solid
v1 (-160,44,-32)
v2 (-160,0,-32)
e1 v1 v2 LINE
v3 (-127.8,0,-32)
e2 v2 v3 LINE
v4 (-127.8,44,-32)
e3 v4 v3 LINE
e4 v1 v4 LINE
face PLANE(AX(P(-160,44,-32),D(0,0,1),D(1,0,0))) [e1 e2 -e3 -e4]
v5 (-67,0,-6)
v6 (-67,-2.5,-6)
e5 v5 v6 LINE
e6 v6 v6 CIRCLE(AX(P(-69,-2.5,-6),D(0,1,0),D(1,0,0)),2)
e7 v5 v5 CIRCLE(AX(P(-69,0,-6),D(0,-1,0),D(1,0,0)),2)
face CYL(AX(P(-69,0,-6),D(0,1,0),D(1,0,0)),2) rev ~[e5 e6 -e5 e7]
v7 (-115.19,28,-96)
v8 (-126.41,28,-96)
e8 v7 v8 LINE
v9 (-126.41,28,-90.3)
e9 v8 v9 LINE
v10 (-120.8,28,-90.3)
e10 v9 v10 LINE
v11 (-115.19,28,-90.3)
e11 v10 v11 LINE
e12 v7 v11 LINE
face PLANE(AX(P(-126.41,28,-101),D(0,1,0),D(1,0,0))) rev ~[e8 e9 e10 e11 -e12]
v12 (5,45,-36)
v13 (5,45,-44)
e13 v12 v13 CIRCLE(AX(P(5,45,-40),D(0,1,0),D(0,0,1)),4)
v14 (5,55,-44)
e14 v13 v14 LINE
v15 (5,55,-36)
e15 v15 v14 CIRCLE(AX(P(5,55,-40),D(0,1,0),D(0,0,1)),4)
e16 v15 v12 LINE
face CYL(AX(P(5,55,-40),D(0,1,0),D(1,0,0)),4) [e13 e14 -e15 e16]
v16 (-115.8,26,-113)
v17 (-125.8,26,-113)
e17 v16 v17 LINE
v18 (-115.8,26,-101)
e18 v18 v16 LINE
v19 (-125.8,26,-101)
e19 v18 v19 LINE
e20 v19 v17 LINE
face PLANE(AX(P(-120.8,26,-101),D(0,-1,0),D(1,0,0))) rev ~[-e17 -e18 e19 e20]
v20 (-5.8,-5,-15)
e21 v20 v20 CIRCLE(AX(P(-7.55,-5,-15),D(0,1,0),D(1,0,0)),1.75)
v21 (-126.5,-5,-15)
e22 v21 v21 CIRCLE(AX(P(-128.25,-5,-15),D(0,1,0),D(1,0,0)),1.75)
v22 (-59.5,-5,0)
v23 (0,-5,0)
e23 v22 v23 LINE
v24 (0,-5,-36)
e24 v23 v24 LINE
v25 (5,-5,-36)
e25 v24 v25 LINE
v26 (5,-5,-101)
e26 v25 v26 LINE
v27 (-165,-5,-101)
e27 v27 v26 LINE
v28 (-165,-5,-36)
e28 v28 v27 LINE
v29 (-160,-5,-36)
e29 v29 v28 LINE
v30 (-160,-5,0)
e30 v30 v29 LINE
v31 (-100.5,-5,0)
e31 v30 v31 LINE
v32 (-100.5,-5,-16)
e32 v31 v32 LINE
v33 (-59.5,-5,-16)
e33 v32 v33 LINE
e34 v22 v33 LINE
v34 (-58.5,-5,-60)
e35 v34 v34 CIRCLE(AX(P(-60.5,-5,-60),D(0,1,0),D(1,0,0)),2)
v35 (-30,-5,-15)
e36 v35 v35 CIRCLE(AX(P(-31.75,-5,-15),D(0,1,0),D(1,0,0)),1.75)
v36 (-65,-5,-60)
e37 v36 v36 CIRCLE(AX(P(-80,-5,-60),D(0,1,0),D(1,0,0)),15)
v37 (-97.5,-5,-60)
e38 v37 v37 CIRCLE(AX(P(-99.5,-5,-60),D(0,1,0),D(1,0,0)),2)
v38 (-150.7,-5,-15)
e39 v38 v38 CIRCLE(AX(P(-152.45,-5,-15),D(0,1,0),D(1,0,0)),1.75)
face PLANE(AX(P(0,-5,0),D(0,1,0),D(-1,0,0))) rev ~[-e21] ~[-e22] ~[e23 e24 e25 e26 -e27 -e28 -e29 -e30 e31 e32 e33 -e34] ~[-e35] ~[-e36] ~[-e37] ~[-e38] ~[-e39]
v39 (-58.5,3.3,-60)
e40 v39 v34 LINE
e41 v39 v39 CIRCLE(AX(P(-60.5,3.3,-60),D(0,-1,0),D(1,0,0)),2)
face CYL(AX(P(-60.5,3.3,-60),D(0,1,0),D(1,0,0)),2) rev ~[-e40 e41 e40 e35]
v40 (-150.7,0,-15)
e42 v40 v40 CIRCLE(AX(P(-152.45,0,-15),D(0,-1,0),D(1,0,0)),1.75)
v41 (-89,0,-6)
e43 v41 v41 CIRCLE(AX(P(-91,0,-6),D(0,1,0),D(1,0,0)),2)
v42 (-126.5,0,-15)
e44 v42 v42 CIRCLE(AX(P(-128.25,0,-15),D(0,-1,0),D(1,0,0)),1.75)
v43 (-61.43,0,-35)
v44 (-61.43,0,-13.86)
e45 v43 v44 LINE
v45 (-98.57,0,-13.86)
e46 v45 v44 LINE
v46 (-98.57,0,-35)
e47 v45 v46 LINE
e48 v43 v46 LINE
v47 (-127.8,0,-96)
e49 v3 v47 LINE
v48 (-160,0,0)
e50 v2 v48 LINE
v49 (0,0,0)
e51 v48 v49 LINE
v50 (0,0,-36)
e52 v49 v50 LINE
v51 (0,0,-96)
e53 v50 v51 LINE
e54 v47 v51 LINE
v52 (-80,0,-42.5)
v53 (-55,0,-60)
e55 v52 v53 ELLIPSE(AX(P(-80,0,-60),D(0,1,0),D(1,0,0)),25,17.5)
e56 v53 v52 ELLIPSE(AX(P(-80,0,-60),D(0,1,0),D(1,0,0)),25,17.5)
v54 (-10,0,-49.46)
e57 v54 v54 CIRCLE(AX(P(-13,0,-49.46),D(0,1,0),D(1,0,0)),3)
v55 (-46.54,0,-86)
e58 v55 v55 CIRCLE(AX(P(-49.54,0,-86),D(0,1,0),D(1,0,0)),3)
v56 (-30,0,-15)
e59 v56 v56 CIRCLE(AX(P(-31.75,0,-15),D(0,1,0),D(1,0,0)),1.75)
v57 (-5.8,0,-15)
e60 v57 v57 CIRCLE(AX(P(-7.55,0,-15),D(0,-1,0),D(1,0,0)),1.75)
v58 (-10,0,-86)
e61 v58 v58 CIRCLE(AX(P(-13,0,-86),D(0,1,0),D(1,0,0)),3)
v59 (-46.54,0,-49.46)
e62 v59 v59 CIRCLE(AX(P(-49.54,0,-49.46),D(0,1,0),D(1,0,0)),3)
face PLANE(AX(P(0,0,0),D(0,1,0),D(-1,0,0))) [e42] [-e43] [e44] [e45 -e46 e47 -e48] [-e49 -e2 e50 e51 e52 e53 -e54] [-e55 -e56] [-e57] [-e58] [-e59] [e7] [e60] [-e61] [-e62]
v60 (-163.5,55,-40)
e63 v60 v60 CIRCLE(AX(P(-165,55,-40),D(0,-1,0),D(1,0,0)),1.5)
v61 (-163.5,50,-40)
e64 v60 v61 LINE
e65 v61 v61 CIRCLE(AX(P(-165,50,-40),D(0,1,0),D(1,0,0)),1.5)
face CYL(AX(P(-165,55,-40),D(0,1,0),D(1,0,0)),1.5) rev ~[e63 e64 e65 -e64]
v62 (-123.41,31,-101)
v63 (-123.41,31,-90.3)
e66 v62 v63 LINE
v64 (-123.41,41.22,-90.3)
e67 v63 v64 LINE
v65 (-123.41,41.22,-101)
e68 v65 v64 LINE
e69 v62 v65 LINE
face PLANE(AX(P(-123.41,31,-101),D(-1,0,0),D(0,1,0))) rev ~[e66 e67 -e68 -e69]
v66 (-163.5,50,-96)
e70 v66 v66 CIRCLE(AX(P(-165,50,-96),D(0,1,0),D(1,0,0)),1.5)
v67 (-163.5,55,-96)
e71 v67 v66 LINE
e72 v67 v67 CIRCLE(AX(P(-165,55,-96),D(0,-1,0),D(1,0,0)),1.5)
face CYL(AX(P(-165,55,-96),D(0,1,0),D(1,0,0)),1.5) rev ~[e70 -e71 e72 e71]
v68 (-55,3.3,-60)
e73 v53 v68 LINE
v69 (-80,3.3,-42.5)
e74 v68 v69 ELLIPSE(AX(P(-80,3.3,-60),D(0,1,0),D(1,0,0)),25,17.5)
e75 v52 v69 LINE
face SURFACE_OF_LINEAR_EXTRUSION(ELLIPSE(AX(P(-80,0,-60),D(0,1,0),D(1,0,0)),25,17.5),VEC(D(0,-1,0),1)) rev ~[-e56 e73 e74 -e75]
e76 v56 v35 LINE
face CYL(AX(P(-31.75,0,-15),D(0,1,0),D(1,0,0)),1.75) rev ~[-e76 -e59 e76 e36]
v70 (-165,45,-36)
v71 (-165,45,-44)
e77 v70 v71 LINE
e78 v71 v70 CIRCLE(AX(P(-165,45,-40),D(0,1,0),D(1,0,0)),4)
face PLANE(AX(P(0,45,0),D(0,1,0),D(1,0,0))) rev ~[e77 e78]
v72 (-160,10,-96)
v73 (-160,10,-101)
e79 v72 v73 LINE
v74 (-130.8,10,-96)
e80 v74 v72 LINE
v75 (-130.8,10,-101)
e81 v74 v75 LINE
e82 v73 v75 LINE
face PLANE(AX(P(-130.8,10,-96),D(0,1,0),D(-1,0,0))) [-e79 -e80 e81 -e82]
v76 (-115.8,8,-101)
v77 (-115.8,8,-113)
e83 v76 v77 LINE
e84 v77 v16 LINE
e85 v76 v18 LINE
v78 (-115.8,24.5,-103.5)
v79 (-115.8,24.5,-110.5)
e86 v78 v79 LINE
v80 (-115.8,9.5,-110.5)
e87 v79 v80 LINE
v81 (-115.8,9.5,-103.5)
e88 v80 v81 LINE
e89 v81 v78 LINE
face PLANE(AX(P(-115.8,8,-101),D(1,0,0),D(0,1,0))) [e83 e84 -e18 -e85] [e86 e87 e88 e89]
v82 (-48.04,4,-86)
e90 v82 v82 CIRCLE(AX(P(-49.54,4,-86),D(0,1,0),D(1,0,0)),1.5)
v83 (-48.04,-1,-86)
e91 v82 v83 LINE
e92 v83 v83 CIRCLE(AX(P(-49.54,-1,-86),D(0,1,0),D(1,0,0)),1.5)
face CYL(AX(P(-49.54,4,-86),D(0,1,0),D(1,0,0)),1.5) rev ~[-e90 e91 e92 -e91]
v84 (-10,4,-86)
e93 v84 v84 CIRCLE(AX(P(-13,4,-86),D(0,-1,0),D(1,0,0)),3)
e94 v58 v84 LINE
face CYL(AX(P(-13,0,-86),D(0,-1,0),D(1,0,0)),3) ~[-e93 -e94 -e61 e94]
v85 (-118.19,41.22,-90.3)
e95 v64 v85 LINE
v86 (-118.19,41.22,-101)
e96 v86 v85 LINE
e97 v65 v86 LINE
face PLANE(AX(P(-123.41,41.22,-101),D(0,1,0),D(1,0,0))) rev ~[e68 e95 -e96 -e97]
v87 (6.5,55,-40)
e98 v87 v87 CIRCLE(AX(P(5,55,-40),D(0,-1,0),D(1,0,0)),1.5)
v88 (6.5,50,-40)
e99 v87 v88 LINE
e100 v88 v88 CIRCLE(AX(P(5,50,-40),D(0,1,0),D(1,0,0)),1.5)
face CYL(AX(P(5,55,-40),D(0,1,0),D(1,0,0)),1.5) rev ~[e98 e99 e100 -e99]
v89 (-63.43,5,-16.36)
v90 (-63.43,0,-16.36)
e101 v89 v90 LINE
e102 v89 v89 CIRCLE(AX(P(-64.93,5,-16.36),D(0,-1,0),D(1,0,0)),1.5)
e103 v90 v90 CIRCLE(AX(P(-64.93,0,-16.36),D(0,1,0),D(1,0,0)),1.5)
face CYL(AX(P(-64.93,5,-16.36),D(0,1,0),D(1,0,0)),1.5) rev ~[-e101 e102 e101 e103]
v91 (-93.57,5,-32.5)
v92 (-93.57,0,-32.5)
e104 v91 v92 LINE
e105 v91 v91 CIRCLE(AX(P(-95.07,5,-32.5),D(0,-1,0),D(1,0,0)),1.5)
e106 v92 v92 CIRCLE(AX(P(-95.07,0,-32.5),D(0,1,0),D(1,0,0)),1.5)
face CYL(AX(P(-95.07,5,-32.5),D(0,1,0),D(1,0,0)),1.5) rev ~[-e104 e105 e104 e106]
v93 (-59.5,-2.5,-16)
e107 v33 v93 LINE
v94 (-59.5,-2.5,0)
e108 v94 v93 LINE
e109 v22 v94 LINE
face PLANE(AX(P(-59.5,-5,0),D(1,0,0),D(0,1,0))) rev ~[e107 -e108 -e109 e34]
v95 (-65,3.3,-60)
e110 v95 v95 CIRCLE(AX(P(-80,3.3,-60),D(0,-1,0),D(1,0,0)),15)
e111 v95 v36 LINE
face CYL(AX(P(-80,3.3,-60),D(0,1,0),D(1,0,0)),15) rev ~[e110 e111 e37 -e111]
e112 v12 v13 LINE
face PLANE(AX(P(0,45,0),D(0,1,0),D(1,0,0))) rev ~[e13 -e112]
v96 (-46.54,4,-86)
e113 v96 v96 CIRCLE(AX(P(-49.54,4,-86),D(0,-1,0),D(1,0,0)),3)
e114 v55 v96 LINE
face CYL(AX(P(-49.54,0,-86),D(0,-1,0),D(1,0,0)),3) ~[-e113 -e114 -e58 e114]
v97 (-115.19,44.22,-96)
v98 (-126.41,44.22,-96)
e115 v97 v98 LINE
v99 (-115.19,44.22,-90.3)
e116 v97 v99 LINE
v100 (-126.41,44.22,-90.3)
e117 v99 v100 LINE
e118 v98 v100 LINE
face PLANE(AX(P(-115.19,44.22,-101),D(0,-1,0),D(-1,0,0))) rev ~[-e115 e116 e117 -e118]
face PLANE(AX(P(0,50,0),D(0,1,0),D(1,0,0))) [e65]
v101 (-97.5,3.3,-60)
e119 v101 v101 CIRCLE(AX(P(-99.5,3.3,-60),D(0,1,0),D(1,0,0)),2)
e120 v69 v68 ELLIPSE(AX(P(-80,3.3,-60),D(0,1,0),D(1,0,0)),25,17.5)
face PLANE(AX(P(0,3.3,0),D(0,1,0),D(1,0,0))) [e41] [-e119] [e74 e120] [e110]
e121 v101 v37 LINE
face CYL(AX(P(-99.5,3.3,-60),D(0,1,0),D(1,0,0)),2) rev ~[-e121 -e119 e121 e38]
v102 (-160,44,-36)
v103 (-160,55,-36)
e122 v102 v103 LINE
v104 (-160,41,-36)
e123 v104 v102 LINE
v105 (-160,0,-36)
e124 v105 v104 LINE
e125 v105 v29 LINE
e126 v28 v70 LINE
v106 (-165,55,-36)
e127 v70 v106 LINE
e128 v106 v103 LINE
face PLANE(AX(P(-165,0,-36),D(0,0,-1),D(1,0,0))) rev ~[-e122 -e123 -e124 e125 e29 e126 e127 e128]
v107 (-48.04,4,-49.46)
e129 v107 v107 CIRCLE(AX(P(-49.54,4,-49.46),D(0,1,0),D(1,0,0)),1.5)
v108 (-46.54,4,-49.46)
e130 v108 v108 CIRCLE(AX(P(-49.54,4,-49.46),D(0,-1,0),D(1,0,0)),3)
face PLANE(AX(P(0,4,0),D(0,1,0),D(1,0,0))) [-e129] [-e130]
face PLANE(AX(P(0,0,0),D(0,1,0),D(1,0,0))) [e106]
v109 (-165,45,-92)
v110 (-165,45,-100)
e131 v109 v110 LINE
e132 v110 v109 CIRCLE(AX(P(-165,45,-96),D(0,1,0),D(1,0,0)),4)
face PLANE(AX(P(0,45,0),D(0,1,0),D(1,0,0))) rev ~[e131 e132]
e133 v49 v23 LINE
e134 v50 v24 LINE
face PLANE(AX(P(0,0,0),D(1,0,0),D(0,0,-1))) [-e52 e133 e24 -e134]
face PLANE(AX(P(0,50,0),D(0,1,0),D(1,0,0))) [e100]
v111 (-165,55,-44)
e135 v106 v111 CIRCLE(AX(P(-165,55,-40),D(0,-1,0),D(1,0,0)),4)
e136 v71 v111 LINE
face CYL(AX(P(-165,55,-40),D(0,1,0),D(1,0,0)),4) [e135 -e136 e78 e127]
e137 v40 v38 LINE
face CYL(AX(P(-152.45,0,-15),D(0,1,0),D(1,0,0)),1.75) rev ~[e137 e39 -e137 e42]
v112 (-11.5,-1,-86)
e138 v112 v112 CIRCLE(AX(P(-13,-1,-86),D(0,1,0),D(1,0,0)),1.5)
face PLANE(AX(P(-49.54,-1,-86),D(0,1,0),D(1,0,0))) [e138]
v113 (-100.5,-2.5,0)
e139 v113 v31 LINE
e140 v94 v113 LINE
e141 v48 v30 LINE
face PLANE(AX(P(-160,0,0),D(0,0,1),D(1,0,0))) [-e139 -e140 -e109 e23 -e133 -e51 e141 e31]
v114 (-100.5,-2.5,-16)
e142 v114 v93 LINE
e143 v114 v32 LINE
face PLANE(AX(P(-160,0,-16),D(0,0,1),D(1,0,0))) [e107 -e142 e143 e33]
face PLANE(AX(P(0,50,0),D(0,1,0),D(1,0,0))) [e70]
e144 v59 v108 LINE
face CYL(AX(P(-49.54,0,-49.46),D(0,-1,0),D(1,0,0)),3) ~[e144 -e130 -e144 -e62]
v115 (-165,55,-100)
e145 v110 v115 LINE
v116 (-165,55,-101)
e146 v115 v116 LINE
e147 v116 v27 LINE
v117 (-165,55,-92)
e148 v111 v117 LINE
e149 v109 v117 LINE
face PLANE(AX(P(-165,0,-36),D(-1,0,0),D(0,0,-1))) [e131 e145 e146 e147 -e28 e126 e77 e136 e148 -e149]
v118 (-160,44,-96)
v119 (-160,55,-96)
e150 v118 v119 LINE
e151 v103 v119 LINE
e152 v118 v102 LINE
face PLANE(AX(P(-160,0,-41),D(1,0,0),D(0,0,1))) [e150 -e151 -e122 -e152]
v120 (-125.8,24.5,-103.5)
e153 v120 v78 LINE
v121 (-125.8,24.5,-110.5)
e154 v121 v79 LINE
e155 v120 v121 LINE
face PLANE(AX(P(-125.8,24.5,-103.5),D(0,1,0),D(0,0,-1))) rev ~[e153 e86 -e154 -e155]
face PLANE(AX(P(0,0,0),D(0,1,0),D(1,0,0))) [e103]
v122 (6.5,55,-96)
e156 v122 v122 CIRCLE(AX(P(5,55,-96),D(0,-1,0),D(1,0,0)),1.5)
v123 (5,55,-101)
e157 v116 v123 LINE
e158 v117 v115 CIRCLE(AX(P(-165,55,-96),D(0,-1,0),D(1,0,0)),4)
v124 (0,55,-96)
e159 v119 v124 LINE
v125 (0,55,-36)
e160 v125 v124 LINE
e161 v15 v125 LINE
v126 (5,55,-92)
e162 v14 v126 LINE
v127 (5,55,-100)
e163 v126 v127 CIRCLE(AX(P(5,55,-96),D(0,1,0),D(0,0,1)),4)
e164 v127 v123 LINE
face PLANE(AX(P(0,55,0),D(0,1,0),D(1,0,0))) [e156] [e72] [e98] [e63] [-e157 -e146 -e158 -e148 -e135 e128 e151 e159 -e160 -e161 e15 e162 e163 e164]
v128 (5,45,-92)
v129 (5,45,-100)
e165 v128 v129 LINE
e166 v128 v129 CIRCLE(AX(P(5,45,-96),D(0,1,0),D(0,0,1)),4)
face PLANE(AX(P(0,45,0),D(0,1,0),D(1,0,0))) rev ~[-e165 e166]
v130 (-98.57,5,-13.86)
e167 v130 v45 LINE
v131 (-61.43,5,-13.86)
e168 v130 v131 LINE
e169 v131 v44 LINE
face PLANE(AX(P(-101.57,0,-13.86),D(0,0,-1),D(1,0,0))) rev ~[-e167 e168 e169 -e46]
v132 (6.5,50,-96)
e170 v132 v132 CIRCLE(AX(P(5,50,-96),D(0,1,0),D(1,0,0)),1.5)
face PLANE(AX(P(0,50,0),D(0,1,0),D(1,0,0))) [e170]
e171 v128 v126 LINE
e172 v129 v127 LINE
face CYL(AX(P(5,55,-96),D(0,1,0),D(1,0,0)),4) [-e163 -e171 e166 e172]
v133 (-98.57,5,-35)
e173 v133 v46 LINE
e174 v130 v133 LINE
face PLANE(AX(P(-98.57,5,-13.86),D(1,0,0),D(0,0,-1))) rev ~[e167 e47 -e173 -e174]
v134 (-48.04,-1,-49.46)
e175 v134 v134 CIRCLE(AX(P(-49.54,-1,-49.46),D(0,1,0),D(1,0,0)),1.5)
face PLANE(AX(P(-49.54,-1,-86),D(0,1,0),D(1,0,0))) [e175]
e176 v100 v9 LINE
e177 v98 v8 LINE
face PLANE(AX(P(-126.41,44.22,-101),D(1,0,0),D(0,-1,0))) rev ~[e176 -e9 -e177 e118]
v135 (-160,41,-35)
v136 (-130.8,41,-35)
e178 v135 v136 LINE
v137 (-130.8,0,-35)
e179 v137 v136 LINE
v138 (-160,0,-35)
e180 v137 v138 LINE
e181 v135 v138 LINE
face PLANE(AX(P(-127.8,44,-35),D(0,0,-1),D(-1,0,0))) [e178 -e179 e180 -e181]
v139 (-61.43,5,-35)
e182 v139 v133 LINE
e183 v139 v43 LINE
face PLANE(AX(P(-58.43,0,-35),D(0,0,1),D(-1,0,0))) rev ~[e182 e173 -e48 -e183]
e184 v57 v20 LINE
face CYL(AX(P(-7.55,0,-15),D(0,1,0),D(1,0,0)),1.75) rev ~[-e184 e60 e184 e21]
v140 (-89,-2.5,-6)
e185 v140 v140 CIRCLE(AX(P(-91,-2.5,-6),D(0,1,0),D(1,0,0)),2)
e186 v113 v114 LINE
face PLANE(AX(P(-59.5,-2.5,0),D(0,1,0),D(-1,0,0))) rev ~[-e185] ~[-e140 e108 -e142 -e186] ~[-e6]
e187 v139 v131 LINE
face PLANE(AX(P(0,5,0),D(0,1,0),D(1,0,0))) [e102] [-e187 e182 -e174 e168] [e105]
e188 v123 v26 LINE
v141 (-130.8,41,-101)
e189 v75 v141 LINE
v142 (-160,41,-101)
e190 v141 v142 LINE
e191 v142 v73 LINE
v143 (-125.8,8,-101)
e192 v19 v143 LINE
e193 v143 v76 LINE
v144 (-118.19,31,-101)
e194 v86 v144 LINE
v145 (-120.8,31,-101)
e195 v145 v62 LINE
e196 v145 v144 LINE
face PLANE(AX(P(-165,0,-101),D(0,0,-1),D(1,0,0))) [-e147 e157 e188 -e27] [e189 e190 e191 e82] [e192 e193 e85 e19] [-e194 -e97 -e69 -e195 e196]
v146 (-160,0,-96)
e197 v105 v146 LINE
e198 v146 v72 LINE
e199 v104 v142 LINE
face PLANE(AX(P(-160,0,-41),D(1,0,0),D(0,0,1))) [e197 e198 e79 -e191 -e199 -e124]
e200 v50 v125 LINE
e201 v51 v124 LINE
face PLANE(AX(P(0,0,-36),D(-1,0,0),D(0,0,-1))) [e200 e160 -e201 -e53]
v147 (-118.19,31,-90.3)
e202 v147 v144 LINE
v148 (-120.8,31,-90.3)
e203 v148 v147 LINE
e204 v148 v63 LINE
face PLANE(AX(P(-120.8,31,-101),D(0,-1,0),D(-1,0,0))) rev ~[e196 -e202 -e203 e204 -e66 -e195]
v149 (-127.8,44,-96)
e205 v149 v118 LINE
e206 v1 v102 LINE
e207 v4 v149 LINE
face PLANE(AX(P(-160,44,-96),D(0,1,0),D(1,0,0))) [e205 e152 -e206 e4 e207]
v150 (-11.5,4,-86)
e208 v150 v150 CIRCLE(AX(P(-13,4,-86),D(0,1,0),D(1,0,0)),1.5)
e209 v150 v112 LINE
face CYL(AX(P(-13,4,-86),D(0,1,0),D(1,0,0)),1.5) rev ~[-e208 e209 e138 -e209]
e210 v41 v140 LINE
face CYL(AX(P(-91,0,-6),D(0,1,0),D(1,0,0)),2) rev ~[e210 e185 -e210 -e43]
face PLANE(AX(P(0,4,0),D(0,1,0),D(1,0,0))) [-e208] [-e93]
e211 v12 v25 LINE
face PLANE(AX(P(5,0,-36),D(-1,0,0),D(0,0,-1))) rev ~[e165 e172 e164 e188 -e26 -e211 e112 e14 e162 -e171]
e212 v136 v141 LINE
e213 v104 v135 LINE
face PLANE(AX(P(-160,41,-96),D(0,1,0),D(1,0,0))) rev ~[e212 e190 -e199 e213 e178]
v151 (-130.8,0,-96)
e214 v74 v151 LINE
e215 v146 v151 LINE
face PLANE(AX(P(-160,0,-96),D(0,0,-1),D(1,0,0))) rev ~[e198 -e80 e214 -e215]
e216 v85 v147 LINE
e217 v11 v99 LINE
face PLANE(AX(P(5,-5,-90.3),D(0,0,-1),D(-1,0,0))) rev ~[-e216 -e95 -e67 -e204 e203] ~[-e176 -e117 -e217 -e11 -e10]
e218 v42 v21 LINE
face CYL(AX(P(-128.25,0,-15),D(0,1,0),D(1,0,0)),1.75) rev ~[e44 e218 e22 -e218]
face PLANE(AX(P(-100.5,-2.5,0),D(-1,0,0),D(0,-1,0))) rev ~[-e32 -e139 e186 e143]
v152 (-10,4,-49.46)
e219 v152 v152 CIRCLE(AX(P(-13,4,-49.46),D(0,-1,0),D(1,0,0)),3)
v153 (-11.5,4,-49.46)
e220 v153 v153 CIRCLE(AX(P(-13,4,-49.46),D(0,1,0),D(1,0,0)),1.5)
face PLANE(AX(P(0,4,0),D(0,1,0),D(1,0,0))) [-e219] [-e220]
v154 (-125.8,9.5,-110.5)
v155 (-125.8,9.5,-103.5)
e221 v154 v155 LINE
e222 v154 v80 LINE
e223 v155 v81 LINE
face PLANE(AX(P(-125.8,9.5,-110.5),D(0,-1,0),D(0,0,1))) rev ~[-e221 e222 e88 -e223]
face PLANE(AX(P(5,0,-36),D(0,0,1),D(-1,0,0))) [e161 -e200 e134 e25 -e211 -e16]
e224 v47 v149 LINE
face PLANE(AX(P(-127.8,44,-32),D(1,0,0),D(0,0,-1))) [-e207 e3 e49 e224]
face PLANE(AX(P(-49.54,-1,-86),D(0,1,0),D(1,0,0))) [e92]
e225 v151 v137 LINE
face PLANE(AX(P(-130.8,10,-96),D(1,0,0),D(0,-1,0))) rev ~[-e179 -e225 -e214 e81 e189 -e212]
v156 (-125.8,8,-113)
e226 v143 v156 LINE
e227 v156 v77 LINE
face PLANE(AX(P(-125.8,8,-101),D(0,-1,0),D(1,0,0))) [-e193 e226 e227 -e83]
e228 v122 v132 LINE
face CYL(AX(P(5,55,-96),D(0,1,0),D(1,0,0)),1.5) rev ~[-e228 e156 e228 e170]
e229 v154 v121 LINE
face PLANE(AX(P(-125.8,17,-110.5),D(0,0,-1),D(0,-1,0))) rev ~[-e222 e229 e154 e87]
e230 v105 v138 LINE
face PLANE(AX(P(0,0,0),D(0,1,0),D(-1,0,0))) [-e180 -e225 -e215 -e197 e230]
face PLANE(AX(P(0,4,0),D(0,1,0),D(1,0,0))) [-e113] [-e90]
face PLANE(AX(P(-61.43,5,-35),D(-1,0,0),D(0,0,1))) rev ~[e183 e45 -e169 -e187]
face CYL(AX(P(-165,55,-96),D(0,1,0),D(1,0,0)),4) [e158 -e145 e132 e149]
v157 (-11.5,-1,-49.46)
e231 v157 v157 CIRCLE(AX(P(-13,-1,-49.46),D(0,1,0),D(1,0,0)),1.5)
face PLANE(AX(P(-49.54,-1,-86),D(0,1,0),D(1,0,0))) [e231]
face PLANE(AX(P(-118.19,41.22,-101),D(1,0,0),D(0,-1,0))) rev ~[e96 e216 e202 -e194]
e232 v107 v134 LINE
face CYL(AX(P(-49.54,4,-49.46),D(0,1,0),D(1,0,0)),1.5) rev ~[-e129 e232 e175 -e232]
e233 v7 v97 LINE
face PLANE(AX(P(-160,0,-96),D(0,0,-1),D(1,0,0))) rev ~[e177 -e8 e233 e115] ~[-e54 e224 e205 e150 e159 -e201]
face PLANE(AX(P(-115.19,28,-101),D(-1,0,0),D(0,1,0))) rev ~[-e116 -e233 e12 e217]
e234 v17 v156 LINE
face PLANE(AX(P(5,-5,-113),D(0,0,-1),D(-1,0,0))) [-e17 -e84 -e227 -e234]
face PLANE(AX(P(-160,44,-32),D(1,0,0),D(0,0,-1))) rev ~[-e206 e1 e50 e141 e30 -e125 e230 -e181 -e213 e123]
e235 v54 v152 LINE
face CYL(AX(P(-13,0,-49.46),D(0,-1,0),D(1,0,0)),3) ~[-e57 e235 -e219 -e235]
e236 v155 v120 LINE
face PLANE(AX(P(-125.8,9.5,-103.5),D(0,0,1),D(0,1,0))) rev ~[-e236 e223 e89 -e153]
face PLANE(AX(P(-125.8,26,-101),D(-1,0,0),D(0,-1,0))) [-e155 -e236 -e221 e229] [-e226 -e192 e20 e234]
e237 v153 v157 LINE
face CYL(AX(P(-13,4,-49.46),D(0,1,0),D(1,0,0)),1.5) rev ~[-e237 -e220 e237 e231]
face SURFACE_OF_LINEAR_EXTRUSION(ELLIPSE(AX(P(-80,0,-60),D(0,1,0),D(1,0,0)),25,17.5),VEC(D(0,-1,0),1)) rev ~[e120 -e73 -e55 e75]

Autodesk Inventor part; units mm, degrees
ref_plane "YZ Plane" through (0, 0, 0) normal (1, 0, 0) x (0, 1, 0)
ref_plane "XZ Plane" through (0, 0, 0) normal (0, 1, 0) x (-1, 0, 0)
ref_plane "XY Plane" through (0, 0, 0) normal (0, 0, 1) x (1, 0, 0)
sketch "Boceto1" plane through (0, 0, 0) normal (0, 1, 0) x (-1, 0, 0)
  line L0 (160, -36) -> (165, -36)
  line L1 (165, -36) -> (165, -101)
  line L2 (165, -101) -> (-5, -101)
  line L3 (160, 0) -> (0, 0)
  line L4 (0, 0) -> (0, -36)
  line L5 (0, -36) -> (-5, -36)
  line L6 (-5, -36) -> (-5, -101)
  line L7 (160, 0) -> (160, -36)
  dimension "d250" = 0
  dimension "d4" = 5
  dimension "d5" = 65
  dimension "d87" = 36
  dimension "d88" = 5
  dimension "d89" = 65
  dimension "d132" = 160
  dimension "d301" = 36
extrude "Extrusión1" add sketch "Boceto1" against normal blind 5
sketch "Boceto3" plane through (-160, 0, 0) normal (0, 0, 1) x (1, 0, 0)
  line L0 (0, 0) -> (160, 0) projected
  line L1 (160, -5) -> (0, -5) projected
  line L2 (80, -2.5) -> (80, -5)
  line L3 (160, -5) -> (80, -5)
  line L4 (80, -5) -> (100.5, -5)
  line L5 (100.5, -5) -> (100.5, -2.5)
  line L6 (100.5, -2.5) -> (59.5, -2.5)
  line L7 (59.5, -2.5) -> (59.5, -5)
  line L8 (59.5, -5) -> (80, -5)
  point P0 (100, -5)
  point P1 (60, -5)
  point P2 (165, -5)
  dimension "d140" = 80
  dimension "d410" = 20.5
  dimension "d411" = 2.5
  dimension "d412" = 41
  dimension "d413" = 2.5
extrude "Extrusión2" cut sketch "Boceto3" against normal blind 16
sketch "Boceto4" plane through (0, 0, 0) normal (0, 1, 0) x (1, 0, 0)
  circle A0 centre (-7.55, 15) radius 1.75
  circle A1 centre (-31.75, 15) radius 1.75
  circle A2 centre (-152.45, 15) radius 1.75
  circle A3 centre (-128.25, 15) radius 1.75
  line L0 (-140, 0) -> (-140, 36) projected
  line L1 (0, 0) -> (0, 15)
  line L2 (0, 36) -> (0, 0) projected
  line L3 (0, 15) -> (-7.55, 15)
  line L4 (-160, 0) -> (-160, 15)
  line L5 (-160, 0) -> (-160, 36) projected
  line L6 (-160, 15) -> (-152.45, 15)
  line L7 (-152.45, 15) -> (-128.25, 15)
  line L8 (-7.55, 15) -> (-31.75, 15)
  dimension "d16" = 3.5
  dimension "d18" = 3.5
  dimension "d21" = 3.5
  dimension "d23" = 3.5
  dimension "d138" = 15
  dimension "d141" = 7.55
  dimension "d142" = 15
  dimension "d143" = 7.55
extrude "Extrusión3" cut sketch "Boceto4" against normal blind 5
sketch "Boceto5" plane through (0, 0, 0) normal (0, 1, 0) x (1, 0, 0)
  line L0 (-165, 36) -> (-165, 101)
  line L1 (-165, 101) -> (5, 101)
  line L2 (-165, 36) -> (-160, 36)
  line L3 (-160, 41) -> (-160, 41)
  line L4 (-160, 41) -> (-160, 96)
  line L5 (-160, 96) -> (0.7104, 96)
  line L6 (-160, 41) -> (-160, 36)
  line L7 (-9.2896, 35) -> (-9.2896, 39.9954)
  line L8 (5, 36) -> (5, 101) projected
  line L9 (5, 101) -> (5, 36)
  line L10 (5, 36) -> (0, 36)
  line L11 (0, 36) -> (0, 96)
  point P0 (0, 0)
  point P1 (25, 35)
  dimension "d28" = 5
extrude "Extrusión4" add sketch "Boceto5" along normal blind 55
sketch "Boceto10" plane through (0, 0, 0) normal (0, 1, 0) x (1, 0, 0)
  line L0 (0, 0) -> (-80, 0)
  line L1 (0, 0) -> (-160, 0) projected
  line L2 (-80, 0) -> (-80, 60)
  line L3 (-80, 60) -> (-80, 42.5)
  line L4 (-80, 60) -> (-55, 60)
  ellipse E0 centre (-80, 60) end of major axis (-80, 42.5) minor radius 25
  point P0 (-60, 0)
  dimension "d74" = 80
  dimension "d75" = 60
  dimension "d76" = 17.5
  dimension "d77" = 25
extrude "Extrusión9" add sketch "Boceto10" along normal blind 3.3
sketch "Boceto11" plane through (0, 3.3, 0) normal (0, 1, 0) x (1, 0, 0)
  ellipse E0 centre (-80, 60) end of major axis (-55, 60) minor radius 17.5 projected
  line L0 (-80, 60) -> (-60.5, 60)
  line L1 (-80, 60) -> (-99.5, 60)
  circle A0 centre (-80, 60) radius 15
  circle A1 centre (-99.5, 60) radius 2
  circle A2 centre (-60.5, 60) radius 2
  line L2 (0, 36) -> (0, 0) projected
  line L3 (-160, 0) -> (0, 0) projected
  dimension "d80" = 19.5
  dimension "d81" = 19.5
  dimension "d82" = 30
  dimension "d83" = 4
  dimension "d84" = 4
extrude "Extrusión10" cut sketch "Boceto11" against normal blind 15 contours L1 A0 L0 | L0 A0 L1 | A2 | A1
sketch "Boceto14" plane through (0, 0, 0) normal (0, 1, 0) x (1, 0, 0)
  line L0 (-160, 0) -> (0, 0) projected
  line L1 (-101.57, 13.86) -> (-58.43, 13.86)
  line L2 (-58.43, 35) -> (-101.57, 35)
  line L3 (-101.57, 35) -> (-101.57, 13.86)
  ellipse E0 centre (-80, 60) end of major axis (-55, 60) minor radius 17.5 projected
  line L4 (-58.43, 35) -> (-58.43, 13.86)
  dimension "d328" = 21.14
  dimension "d375" = 43.14
extrude "Extrusión13" add sketch "Boceto14" along normal blind 5 contours L3 L2 L4 L1
sketch "Boceto15" plane through (0, 5, 0) normal (0, 1, 0) x (1, 0, 0)
  line L0 (-58.43, 35) -> (-101.57, 35) projected
  line L1 (-101.57, 35) -> (-95.07, 35)
  line L2 (-95.07, 35) -> (-95.07, 32.5)
  line L3 (-58.43, 13.86) -> (-64.93, 13.86)
  line L4 (-64.93, 13.86) -> (-64.93, 16.36)
  circle A0 centre (-95.07, 32.5) radius 1.5
  circle A1 centre (-64.93, 16.36) radius 1.5
  line L5 (-95.07, 32.5) -> (-64.93, 32.5)
  point P0 (0, 0)
  dimension "d158" = 6.5
  dimension "d159" = 2.5
  dimension "d160" = 6.5
  dimension "d161" = 2.5
  dimension "d162" = 3
  dimension "d163" = 3
extrude "Extrusión14" cut sketch "Boceto15" against normal blind 5
sketch "Boceto16" plane through (0, 5, 0) normal (0, 1, 0) x (1, 0, 0)
  line L0 (-58.43, 35) -> (-101.57, 35) projected
  line L1 (-58.43, 35) -> (-61.43, 35)
  line L2 (-61.43, 35) -> (-61.43, 13.86)
  line L3 (-61.43, 13.86) -> (-58.43, 13.86)
  line L4 (-58.43, 13.86) -> (-58.43, 35)
  line L5 (-98.57, 35) -> (-101.57, 35)
  line L6 (-101.57, 35) -> (-101.57, 13.86)
  line L7 (-101.57, 13.86) -> (-98.57, 13.86)
  line L8 (-98.57, 13.86) -> (-98.57, 35)
  point P0 (0, 0)
  dimension "d166" = 3
  dimension "d168" = 21.14
  dimension "d169" = 3
  dimension "d170" = 21.14
  dimension "d374" = 43.14
extrude "Extrusión15" cut sketch "Boceto16" against normal blind 5
sketch "Boceto17" plane through (0, 0, 0) normal (0, 1, 0) x (1, 0, 0)
  line L0 (0, 96) -> (-160, 96) projected
  line L1 (0, 96) -> (0, 86)
  line L2 (0, 36) -> (0, 96) projected
  line L3 (0, 86) -> (-13, 86)
  circle A0 centre (-13, 86) radius 3
  line L4 (-13, 86) -> (-49.54, 86)
  line L5 (-49.54, 86) -> (-49.54, 49.46)
  line L6 (-49.54, 49.46) -> (-13, 49.46)
  line L7 (-13, 49.46) -> (-13, 86)
  circle A1 centre (-49.54, 86) radius 3
  circle A2 centre (-49.54, 49.46) radius 3
  circle A3 centre (-13, 49.46) radius 3
  point P0 (0, 0)
  dimension "d173" = 10
  dimension "d174" = 13
  dimension "d175" = 6
  dimension "d176" = 36.54
  dimension "d177" = 36.54
  dimension "d178" = 36.54
  dimension "d182" = 6
  dimension "d183" = 6
  dimension "d184" = 6
extrude "Extrusión16" add sketch "Boceto17" along normal blind 4 contours A0 L7 L3 | L3 L4 A0 | L7 A0 L4 | A1 L5 L4 | L4 L5 A1 | A3 L6 L7 | L7 L6 A3 | A2 L6 L5 | L5 L6 A2
sketch "Boceto18" plane through (-49.54, 4, -86) normal (0, 1, 0) x (1, 0, 0)
  circle A0 centre (0, 0) radius 1.5
  circle A1 centre (36.54, 0) radius 3 projected
  circle A2 centre (36.54, 0) radius 1.5
  circle A3 centre (0, -36.54) radius 3 projected
  circle A4 centre (0, -36.54) radius 1.5
  circle A5 centre (36.54, -36.54) radius 3 projected
  circle A6 centre (36.54, -36.54) radius 1.5
  point P0 (49.54, -86)
  dimension "d187" = 3
  dimension "d188" = 3
  dimension "d189" = 3
  dimension "d190" = 3
extrude "Extrusión17" cut sketch "Boceto18" against normal blind 5 contours A0 | A2 | A4 | A6
sketch "Boceto21" plane through (0, 55, 0) normal (0, 1, 0) x (1, 0, 0)
  circle A0 centre (5, 40) radius 4
  line L0 (-165, 36) -> (-165, 101) projected
  circle A1 centre (-165, 96) radius 4
  circle A2 centre (-165, 40) radius 4
  line L1 (0, 96) -> (-160, 96) projected
  line L2 (0, 96) -> (5, 96)
  circle A3 centre (5, 96) radius 4
  line L3 (-165, 101) -> (-165, 96)
  point P0 (0, 0)
  point P1 (-165, 41.5)
  point P2 (-165, 38.5)
  point P3 (5, 101)
  dimension "d210" = 8
  dimension "d214" = 8
  dimension "d215" = 8
  dimension "d262" = 5
  dimension "d263" = 8
  dimension "d372" = 5
extrude "Extrusión18" add sketch "Boceto21" against normal blind 10
sketch "Boceto22" plane through (0, 55, 0) normal (0, 1, 0) x (1, 0, 0)
  arc A0 (5, 36) -> (5, 44) centre (5, 40) ccw projected
  arc A1 (5, 91.0001) -> (5, 98.9999) centre (4.9732, 95) ccw projected
  arc A2 (-165, 100) -> (-165, 92) centre (-165, 96) ccw projected
  circle A3 centre (-165, 96) radius 1.5
  line L0 (-165, 36) -> (-165, 101) projected
  circle A4 centre (-165, 40) radius 1.5
  line L1 (0, 96) -> (0, 36) projected
  circle A5 centre (5, 96) radius 1.5
  line L2 (5, 40) -> (0, 40)
  line L3 (0, 36) -> (0, 40)
  circle A6 centre (5, 40) radius 1.5
  line L4 (0, 96) -> (5, 96)
  line L5 (-160, 96) -> (-160, 36) projected
  point P0 (0, 0)
  dimension "d218" = 3
  dimension "d219" = 3
  dimension "d259" = 3
  dimension "d260" = 5
  dimension "d261" = 3
extrude "Extrusión19" cut sketch "Boceto22" against normal blind 5 contours A4 L0 | L0 A4 | L0 A3 | A3 L0 | A6 | A5
sketch "Boceto24" plane through (-160, 0, -96) normal (0, 0, 1) x (1, 0, 0)
  line L0 (0, 55) -> (160, 55) projected
  line L1 (29.2, 0) -> (0, 0)
  line L2 (0, 0) -> (29.2, 0)
  line L3 (0, 0) -> (0, -5) projected
  line L4 (0, 0) -> (0, 41)
  line L5 (0, 0) -> (0, 55) projected
  line L6 (0, 41) -> (29.2, 41)
  line L7 (29.2, 41) -> (29.2, 0)
  line L8 (29.2, 0) -> (0, 0)
  line L9 (32.2, 44) -> (-3, 44)
  line L10 (-3, 44) -> (-3, -3)
  line L11 (-3, -3) -> (32.2, -3)
  line L12 (32.2, -3) -> (32.2, 44)
  line L13 (29.2, 0) -> (29.2, 10)
  line L14 (29.2, 10) -> (0, 10)
  point P0 (160, 0)
  point P1 (0, 10)
  point P2 (0, 44)
  point P3 (0, -3)
  dimension "d243" = 41
  dimension "d244" = 29.2
  dimension "d246" = 3
  dimension "d247" = 10
  dimension "d248" = 29.2
extrude "Extrusión21" cut sketch "Boceto24" against normal blind 10 contours L14 L4 L6 L7
extrude "Extrusión22" add sketch "Boceto24" along normal blind 61 contours L7 L6 L5 L9 L12 L11 L3 L1
sketch "Boceto25" plane through (-160, 44, -96) normal (0, 1, 0) x (1, 0, 0)
  line L0 (0, -96) -> (0, -60) projected
  line L1 (0, -61) -> (0, -64)
  line L2 (0, -64) -> (32.2, -64)
  line L3 (32.2, -64) -> (32.2, -61)
  line L4 (32.2, -61) -> (0, -61)
  point P0 (160, -96)
  point P1 (0, -61)
extrude "Extrusión23" add sketch "Boceto25" against normal blind 44
sketch "Boceto26" plane through (5, -5, -101) normal (0, 0, -1) x (-1, 0, 0)
  line L0 (125.8, 46) -> (125.8, 31)
  line L1 (125.8, 31) -> (120.8, 31)
  line L2 (132.8, 49) -> (132.8, 5) projected
  line L3 (120.8, 31) -> (130.8, 31)
  line L4 (130.8, 31) -> (130.8, 13)
  line L5 (130.8, 13) -> (120.8, 13)
  line L6 (120.8, 13) -> (120.8, 31)
  line L7 (135.8, 46) -> (135.8, 5) projected
  line L8 (125.8, 46) -> (135.8, 46)
  point P0 (5, 5)
  dimension "d277" = 15
  dimension "d278" = 5
  dimension "d280" = 18
  dimension "d281" = 10
extrude "Extrusión24" add sketch "Boceto26" along normal blind 12
sketch "Boceto28" plane through (-125.8, 8, -101) normal (-1, 0, 0) x (0, 0, 1)
  line L0 (-12, 0) -> (-12, 9)
  line L1 (-12, 0) -> (-12, 18) projected
  line L2 (-12, 9) -> (-6, 9)
  line L3 (-9.5, 1.5) -> (-2.5, 1.5)
  line L4 (-2.5, 1.5) -> (-2.5, 16.5)
  line L5 (-2.5, 16.5) -> (-9.5, 16.5)
  line L6 (-9.5, 16.5) -> (-9.5, 1.5)
  point P0 (101, -8)
  dimension "d293" = 9
  dimension "d294" = 6
  dimension "d297" = 7
  dimension "d298" = 15
extrude "Extrusión25" cut sketch "Boceto28" against normal blind 10
sketch "Boceto31" plane through (0, 0, 0) normal (0, 1, 0) x (1, 0, 0)
  circle A0 centre (-69, 6) radius 2
  circle A1 centre (-91, 6) radius 2
  line L0 (-91, 6) -> (-69, 6)
  line L1 (-80, 0) -> (-80, 6)
  point P0 (0, 0)
  dimension "d368" = 4
  dimension "d369" = 4
  dimension "d376" = 6
extrude "Extrusión30" cut sketch "Boceto31" against normal blind 5
sketch "Boceto33" plane through (5, -5, -101) normal (0, 0, -1) x (-1, 0, 0)
  line L0 (120.8, 31) -> (130.8, 31) projected
  line L1 (125.8, 31) -> (125.8, 36)
  line L2 (125.8, 36) -> (123.19, 36)
  line L3 (125.8, 36) -> (128.41, 36)
  line L4 (128.41, 36) -> (128.41, 46.22)
  line L5 (128.41, 46.22) -> (123.19, 46.22)
  line L6 (123.19, 46.22) -> (123.19, 36)
  line L7 (120.19, 49.22) -> (131.41, 49.22)
  line L8 (131.41, 49.22) -> (131.41, 33)
  line L9 (131.41, 33) -> (125.8, 33)
  line L10 (125.8, 33) -> (120.19, 33)
  line L11 (120.19, 33) -> (120.19, 49.22)
  point P0 (5, 5)
  dimension "d387" = 5
  dimension "d388" = 2.61
  dimension "d389" = 2.61
  dimension "d390" = 10.22
  dimension "d391" = 5.22
  dimension "d394" = 3
extrude "Extrusión34" add sketch "Boceto33" against normal blind 10.7
extrude "Extrusión35" cut sketch "Boceto33" against normal blind 8.7 contours L2 L6 L5 L4 L3
properties part number "Mitad_2"
